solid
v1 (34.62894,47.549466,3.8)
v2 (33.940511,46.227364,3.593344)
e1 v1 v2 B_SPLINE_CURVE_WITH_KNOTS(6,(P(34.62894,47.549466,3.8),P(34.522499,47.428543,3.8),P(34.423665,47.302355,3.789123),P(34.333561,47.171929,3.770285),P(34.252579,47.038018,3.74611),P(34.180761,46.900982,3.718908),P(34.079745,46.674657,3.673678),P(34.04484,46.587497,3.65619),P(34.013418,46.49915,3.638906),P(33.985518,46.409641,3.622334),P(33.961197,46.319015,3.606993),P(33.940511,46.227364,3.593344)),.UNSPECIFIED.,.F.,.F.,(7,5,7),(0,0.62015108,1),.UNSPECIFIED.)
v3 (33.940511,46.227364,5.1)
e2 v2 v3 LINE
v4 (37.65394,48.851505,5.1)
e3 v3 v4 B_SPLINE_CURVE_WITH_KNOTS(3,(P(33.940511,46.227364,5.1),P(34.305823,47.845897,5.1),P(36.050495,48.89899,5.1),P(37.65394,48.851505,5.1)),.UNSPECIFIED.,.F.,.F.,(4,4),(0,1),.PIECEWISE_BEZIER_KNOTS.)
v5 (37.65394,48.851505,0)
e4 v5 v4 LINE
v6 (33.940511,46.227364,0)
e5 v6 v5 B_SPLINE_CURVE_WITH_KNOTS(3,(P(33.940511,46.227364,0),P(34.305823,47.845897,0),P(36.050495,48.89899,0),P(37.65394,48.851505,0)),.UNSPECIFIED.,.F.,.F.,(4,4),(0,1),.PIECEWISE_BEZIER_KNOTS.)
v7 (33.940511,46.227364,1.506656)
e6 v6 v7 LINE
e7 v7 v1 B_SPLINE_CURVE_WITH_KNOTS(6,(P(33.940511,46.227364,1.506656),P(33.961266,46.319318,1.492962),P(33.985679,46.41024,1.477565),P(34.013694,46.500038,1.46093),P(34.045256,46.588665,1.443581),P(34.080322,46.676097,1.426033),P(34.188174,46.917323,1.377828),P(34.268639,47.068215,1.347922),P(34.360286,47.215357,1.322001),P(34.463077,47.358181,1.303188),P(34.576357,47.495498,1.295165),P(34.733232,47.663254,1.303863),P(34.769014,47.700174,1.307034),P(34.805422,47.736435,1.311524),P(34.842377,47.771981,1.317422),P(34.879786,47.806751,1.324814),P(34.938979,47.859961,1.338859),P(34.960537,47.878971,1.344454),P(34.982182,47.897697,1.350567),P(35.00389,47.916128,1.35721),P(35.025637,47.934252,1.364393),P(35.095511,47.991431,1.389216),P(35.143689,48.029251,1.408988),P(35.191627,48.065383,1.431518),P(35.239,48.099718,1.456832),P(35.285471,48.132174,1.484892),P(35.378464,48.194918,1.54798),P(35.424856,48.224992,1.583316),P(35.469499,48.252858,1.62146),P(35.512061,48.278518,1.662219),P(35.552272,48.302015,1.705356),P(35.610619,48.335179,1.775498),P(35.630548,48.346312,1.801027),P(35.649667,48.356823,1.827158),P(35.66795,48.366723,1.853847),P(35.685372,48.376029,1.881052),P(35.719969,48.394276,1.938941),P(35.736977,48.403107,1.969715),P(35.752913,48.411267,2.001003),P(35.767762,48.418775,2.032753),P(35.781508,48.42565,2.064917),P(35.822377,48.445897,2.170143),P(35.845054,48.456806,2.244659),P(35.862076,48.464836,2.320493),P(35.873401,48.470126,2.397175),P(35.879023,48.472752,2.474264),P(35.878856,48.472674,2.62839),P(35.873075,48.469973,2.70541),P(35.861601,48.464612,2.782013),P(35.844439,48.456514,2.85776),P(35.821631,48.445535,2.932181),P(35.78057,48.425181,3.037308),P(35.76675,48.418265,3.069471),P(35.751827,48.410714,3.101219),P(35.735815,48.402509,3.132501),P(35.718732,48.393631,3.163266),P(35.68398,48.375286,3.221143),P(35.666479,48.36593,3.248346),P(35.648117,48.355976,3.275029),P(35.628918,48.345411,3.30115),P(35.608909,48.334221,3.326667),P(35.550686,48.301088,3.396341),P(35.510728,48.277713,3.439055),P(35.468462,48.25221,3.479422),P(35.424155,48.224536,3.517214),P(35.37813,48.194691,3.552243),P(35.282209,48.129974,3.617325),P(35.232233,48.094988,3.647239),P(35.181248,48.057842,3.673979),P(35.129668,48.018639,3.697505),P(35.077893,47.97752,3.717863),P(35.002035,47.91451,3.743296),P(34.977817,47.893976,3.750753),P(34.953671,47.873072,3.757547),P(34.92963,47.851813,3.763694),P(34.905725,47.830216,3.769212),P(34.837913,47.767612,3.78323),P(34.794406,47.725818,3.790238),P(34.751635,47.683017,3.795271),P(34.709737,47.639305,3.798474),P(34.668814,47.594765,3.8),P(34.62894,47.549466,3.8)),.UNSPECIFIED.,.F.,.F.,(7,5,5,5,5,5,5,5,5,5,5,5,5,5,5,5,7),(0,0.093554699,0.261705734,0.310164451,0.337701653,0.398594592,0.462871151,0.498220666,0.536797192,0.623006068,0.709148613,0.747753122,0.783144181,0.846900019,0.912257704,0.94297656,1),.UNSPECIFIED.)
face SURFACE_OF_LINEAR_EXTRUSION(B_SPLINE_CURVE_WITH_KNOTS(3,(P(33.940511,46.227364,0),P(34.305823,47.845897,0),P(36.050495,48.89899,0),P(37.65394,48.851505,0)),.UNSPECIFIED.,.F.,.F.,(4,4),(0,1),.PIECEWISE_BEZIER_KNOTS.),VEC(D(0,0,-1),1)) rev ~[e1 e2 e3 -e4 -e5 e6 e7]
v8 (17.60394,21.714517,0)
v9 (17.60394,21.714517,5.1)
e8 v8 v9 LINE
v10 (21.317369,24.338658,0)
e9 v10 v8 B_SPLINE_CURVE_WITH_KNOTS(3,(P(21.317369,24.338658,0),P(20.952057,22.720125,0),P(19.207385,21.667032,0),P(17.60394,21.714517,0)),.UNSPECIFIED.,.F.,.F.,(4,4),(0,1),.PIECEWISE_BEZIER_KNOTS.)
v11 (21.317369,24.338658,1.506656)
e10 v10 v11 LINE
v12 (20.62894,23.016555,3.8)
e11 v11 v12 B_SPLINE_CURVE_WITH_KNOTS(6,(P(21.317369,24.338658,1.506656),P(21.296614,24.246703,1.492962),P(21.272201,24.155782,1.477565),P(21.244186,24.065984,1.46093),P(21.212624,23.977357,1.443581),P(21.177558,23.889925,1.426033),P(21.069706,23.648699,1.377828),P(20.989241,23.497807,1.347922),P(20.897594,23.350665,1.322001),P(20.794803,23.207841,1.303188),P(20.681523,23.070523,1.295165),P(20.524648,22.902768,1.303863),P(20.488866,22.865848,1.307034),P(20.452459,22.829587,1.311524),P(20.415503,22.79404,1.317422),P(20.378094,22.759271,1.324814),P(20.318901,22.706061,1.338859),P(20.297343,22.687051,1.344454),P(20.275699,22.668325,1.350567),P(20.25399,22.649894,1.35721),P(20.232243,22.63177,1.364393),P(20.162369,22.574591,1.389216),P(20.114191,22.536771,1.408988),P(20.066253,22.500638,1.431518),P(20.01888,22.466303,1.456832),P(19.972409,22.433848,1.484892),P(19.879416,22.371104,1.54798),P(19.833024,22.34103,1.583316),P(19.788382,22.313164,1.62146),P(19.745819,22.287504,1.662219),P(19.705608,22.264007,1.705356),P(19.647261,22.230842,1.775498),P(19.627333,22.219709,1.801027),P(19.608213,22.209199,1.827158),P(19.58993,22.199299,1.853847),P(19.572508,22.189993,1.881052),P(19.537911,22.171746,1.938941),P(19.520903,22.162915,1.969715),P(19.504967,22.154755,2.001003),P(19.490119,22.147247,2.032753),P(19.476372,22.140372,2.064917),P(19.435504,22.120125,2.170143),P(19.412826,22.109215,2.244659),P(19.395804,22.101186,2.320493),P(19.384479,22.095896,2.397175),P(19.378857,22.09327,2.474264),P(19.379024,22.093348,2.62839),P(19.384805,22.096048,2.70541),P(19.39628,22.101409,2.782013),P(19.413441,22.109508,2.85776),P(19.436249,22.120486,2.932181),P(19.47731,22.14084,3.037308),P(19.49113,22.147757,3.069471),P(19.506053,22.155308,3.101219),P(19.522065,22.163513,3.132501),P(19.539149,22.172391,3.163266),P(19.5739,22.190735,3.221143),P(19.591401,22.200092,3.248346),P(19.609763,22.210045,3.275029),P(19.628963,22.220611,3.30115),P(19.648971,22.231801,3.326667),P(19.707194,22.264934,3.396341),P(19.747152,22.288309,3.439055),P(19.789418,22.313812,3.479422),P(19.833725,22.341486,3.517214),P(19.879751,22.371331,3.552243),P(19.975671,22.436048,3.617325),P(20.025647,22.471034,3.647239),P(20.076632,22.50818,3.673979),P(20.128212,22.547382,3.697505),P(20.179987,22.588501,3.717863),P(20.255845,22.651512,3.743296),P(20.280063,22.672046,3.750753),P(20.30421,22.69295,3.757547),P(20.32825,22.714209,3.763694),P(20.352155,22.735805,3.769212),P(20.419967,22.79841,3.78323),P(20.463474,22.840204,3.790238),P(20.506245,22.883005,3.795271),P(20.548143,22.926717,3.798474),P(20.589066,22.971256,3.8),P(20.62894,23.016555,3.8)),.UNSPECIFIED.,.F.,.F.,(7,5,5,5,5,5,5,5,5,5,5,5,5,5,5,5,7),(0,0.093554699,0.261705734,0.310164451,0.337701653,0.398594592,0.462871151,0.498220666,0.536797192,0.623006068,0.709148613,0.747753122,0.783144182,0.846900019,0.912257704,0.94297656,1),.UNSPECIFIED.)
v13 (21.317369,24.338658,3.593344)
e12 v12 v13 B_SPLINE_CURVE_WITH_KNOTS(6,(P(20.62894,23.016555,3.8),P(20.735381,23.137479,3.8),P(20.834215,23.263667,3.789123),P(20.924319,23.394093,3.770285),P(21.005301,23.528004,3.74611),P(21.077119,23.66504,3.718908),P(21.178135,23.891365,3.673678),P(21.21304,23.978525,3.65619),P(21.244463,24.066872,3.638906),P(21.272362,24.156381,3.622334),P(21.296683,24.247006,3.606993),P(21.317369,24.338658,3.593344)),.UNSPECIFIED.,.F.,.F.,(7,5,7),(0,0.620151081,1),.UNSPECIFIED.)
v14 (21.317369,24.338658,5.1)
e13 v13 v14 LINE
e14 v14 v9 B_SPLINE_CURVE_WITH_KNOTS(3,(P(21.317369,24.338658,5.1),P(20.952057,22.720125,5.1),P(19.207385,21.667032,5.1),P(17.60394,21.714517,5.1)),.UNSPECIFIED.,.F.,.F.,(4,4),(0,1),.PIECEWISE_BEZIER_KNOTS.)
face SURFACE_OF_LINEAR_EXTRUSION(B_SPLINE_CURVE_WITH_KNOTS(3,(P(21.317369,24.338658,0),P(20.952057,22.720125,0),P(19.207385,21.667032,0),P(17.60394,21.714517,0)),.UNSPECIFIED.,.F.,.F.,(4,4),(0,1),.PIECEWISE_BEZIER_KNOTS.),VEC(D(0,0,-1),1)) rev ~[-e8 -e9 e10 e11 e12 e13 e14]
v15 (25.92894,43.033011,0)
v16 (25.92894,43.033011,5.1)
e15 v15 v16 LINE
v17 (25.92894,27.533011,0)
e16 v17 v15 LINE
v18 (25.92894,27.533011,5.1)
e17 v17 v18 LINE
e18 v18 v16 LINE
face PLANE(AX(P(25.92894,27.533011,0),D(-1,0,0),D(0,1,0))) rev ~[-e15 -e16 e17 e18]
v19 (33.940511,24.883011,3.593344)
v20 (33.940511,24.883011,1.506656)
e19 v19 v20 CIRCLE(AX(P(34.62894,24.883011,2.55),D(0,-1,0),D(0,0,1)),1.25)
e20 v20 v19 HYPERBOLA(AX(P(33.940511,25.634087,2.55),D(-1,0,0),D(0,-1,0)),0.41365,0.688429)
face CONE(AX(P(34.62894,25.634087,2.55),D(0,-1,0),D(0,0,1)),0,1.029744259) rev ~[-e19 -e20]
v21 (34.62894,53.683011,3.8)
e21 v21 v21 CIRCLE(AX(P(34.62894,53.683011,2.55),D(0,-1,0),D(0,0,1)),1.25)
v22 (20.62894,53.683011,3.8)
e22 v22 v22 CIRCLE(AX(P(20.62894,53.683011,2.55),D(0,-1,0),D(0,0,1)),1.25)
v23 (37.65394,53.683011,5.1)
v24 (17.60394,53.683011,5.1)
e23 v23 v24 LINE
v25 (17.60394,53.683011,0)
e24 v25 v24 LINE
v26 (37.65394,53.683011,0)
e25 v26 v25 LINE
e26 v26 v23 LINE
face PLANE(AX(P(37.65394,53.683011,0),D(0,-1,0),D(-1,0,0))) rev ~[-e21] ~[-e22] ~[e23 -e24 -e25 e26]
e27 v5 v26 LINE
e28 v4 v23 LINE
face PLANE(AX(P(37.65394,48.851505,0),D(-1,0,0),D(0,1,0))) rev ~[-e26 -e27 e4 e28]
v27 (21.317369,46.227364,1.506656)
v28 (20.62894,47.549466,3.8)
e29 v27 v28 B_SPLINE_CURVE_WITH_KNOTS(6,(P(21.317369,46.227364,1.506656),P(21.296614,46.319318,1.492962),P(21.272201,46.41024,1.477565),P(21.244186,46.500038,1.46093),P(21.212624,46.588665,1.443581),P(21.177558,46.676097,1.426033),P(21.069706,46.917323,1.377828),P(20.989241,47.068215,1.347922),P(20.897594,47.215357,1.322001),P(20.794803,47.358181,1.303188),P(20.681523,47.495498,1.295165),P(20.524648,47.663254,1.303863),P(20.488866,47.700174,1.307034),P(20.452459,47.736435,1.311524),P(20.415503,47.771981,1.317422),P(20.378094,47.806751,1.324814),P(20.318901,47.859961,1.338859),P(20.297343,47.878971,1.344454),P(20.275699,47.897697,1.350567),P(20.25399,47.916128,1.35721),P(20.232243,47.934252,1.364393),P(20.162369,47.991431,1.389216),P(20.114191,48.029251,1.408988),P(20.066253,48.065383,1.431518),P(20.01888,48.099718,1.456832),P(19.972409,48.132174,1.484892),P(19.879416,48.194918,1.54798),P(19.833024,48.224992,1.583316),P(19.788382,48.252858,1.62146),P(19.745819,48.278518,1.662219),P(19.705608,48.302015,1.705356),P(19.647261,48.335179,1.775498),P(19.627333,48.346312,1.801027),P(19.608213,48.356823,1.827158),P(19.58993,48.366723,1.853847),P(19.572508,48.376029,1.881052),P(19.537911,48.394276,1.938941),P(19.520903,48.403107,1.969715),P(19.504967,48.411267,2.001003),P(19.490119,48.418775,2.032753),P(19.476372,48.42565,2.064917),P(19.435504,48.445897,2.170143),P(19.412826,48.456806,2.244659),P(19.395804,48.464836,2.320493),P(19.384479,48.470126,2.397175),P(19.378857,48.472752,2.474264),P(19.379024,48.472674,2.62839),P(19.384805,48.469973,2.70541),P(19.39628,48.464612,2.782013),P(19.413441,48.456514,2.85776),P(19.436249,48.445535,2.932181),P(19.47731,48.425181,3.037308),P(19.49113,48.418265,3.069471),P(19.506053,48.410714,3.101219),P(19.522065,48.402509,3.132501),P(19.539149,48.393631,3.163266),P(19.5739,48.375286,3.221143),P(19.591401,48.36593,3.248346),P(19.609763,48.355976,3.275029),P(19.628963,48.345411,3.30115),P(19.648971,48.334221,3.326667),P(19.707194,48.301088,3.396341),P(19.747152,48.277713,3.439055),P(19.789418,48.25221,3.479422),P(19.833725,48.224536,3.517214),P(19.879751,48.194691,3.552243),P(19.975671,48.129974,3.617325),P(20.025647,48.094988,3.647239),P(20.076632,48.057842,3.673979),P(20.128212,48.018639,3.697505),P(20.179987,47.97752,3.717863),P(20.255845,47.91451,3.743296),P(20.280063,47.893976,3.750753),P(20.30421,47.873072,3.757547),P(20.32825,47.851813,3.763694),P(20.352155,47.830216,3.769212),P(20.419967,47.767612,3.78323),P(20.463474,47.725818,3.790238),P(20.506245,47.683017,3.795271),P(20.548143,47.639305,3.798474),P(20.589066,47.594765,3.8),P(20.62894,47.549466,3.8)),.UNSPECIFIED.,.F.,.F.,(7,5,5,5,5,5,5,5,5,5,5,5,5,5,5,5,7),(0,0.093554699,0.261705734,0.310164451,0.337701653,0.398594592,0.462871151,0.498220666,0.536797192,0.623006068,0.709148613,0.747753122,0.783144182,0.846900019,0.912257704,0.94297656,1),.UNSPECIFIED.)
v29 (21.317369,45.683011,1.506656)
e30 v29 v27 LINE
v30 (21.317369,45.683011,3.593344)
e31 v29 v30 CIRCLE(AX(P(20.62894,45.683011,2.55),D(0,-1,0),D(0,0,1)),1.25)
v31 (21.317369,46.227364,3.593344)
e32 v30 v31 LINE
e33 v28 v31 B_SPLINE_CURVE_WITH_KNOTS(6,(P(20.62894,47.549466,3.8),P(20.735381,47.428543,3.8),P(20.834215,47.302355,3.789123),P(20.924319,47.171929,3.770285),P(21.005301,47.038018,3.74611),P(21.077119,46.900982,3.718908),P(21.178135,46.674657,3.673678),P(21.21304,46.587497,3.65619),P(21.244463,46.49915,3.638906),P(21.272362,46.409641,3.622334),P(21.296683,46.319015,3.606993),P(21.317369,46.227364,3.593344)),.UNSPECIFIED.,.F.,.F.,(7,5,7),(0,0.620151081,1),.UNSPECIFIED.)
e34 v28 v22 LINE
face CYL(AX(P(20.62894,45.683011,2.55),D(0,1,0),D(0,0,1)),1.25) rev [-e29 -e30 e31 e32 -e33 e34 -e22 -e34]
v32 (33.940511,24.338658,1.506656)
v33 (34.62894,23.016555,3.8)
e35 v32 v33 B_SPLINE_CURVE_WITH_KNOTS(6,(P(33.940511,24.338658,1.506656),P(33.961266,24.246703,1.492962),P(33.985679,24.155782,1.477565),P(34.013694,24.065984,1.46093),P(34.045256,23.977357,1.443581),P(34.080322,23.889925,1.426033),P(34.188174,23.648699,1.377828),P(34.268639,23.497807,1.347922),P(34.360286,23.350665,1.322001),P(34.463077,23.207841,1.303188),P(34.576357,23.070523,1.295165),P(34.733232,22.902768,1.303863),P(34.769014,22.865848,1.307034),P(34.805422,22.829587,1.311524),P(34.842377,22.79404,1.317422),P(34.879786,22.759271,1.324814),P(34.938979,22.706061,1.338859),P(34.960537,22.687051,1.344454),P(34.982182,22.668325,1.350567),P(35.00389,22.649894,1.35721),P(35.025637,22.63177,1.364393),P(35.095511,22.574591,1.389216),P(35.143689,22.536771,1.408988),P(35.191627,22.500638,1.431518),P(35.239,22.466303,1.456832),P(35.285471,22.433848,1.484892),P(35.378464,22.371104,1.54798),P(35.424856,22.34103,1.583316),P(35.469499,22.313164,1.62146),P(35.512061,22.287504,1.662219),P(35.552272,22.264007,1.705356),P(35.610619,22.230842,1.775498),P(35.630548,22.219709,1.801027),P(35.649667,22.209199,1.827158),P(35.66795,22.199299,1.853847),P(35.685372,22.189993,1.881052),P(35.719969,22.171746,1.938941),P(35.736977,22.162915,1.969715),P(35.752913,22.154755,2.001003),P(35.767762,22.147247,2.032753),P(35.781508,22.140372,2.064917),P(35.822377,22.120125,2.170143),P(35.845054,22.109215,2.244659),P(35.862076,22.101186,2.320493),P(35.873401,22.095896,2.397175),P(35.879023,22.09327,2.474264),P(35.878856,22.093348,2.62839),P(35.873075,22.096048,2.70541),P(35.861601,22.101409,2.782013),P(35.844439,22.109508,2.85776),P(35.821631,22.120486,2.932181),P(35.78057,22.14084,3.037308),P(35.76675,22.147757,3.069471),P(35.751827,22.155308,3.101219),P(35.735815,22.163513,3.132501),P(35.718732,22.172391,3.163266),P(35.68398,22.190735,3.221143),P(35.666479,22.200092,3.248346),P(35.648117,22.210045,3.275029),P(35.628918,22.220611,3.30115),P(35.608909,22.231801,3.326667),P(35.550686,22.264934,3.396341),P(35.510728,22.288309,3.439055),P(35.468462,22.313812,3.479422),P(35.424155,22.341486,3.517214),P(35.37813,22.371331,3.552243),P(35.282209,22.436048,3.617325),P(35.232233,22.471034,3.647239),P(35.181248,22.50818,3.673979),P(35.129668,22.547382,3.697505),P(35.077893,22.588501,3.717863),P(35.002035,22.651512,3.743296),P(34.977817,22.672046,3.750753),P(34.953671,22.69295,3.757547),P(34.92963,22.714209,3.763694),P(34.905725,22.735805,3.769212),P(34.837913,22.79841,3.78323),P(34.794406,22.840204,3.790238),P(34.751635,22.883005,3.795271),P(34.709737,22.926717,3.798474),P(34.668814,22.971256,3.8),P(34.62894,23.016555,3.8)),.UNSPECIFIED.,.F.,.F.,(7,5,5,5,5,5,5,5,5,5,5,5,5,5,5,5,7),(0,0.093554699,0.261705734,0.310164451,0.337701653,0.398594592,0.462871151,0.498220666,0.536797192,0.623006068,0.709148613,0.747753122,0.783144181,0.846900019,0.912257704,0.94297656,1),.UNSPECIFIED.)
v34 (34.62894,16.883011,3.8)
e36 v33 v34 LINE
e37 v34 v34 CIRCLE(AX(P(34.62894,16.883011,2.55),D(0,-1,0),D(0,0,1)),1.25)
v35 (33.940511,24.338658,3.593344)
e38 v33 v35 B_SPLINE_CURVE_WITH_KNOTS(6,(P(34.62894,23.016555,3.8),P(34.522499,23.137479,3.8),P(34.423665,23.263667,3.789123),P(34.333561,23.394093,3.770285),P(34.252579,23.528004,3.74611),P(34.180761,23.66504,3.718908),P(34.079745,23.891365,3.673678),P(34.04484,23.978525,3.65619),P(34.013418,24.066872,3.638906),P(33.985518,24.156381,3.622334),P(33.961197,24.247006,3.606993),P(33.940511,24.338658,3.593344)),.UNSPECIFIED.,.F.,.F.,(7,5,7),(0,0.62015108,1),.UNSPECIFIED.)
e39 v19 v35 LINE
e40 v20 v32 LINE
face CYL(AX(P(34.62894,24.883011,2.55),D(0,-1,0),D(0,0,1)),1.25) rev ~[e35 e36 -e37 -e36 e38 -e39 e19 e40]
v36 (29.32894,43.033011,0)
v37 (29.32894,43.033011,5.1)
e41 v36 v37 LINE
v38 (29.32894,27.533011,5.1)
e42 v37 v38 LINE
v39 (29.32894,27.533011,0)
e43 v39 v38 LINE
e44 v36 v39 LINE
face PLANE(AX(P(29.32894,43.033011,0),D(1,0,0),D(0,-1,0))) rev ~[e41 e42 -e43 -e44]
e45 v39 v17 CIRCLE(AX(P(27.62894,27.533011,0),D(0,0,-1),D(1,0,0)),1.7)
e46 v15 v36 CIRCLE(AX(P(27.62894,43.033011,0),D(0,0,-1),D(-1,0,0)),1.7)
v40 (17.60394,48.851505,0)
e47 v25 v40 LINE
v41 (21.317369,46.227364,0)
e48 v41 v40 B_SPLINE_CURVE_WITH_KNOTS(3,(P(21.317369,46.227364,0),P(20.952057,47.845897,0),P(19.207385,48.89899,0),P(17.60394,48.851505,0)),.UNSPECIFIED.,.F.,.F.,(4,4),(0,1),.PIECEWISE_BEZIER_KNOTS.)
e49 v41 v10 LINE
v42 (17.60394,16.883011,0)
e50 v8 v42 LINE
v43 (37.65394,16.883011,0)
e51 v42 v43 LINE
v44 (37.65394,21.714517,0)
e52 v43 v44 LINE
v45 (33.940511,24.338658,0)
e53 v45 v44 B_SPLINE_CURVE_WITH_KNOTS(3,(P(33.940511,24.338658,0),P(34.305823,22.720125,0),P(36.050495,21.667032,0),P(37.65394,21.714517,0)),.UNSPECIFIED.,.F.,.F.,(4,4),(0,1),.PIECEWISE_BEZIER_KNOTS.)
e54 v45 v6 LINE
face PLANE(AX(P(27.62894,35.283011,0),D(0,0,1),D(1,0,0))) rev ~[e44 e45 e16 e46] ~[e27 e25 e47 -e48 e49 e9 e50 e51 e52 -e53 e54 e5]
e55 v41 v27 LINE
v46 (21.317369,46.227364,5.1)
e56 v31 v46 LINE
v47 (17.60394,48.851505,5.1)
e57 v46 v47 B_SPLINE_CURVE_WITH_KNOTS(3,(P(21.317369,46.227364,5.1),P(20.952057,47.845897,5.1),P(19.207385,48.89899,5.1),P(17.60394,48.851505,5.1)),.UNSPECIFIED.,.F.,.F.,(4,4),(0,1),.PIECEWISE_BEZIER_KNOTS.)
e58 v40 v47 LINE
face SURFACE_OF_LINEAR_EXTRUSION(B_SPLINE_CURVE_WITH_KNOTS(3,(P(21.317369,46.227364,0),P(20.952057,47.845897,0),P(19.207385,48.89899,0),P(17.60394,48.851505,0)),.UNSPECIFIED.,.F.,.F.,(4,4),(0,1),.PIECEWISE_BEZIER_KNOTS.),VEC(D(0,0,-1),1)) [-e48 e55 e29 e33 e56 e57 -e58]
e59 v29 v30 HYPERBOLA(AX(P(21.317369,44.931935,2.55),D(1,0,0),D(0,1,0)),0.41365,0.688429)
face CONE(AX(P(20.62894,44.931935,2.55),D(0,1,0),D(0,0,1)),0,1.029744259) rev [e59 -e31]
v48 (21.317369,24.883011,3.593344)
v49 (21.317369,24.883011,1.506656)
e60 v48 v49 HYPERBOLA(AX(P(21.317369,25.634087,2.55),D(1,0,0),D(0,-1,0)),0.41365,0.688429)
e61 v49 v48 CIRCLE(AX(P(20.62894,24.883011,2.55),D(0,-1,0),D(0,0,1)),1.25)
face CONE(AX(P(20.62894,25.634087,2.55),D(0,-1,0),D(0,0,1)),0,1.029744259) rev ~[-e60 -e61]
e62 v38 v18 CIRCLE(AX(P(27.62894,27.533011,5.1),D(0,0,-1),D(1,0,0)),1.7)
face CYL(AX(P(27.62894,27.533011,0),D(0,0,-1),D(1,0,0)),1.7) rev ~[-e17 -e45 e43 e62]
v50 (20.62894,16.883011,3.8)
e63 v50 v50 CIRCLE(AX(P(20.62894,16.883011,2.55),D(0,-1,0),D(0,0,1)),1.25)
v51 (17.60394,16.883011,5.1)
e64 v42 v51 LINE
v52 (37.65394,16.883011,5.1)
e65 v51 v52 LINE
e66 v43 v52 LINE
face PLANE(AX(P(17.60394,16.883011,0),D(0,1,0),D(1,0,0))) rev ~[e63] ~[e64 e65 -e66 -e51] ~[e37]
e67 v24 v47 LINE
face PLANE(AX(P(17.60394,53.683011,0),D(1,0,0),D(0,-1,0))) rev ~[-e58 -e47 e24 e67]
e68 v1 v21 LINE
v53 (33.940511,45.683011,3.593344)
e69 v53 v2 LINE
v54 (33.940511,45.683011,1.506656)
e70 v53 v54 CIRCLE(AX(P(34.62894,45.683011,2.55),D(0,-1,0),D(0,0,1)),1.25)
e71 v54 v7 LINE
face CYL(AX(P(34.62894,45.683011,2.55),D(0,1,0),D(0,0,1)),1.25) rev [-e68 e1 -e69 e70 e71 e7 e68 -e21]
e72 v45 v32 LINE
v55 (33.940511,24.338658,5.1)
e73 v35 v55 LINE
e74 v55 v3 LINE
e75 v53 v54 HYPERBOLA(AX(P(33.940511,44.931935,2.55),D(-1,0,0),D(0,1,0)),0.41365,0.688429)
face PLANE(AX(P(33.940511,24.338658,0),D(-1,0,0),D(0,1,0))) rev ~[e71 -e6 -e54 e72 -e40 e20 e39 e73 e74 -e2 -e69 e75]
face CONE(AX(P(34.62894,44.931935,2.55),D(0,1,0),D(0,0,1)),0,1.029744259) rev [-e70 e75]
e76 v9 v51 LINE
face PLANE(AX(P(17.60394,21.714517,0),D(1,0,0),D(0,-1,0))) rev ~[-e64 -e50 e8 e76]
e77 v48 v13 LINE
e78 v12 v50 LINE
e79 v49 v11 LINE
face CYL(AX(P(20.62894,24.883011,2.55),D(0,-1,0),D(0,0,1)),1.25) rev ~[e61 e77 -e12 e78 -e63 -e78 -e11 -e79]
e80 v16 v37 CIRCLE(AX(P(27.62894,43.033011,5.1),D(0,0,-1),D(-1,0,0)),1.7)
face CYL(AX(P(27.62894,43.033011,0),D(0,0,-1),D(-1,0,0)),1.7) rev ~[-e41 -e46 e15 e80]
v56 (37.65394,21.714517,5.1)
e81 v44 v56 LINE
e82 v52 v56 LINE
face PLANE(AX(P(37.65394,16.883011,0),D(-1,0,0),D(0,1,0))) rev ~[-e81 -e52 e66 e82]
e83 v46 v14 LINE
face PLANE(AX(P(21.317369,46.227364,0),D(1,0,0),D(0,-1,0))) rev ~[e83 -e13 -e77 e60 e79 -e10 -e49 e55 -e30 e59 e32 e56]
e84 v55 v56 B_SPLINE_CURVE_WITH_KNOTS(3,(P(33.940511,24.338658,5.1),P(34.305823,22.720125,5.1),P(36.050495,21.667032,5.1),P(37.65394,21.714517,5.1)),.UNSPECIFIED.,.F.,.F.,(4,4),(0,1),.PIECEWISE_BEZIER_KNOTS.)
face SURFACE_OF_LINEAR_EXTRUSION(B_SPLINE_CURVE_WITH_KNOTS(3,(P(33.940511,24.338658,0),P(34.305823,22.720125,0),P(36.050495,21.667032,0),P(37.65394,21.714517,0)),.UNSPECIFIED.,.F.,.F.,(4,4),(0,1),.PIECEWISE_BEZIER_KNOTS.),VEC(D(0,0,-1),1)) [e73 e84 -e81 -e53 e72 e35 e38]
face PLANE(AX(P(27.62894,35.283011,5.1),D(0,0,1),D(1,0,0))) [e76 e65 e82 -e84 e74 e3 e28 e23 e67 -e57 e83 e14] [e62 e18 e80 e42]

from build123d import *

# Parameters (mm, degrees)
ESTRUSIONE_ESTRUSIONE1_DEPTH       = 5.1
FORO_FILETTATO_M3X0_5_1_AT_2_COUNT = 2
FORO_FILETTATO_M3X0_5_1_AT_2_PITCH = 14


with BuildPart() as part:
    # Schizzo1 → Estrusione-Estrusione1 (new body)
    with BuildSketch(Plane.XY):
        with BuildLine():
            Line((37.65394009, 53.683010839), (17.60394009, 53.683010839))
            Line((17.60394009, 53.683010839), (17.60394009, 48.851504979))
            add(Edge.make_bspline(
                [(21.317368868, 46.227364164), (20.952056874, 47.845897177), (19.207385128, 48.898989615), (17.60394009, 48.851504979)],
                knots=[0, 0, 0, 0, 1, 1, 1, 1], degree=3))
            Line((21.317368868, 46.227364164), (21.317368868, 24.338657514))
            add(Edge.make_bspline(
                [(21.317368868, 24.338657514), (20.952056874, 22.720124501), (19.207385128, 21.667032063), (17.60394009, 21.714516699)],
                knots=[0, 0, 0, 0, 1, 1, 1, 1], degree=3))
            Line((17.60394009, 21.714516699), (17.60394009, 16.883010839))
            Line((17.60394009, 16.883010839), (37.65394009, 16.883010839))
            Line((37.65394009, 16.883010839), (37.65394009, 21.714516699))
            add(Edge.make_bspline(
                [(33.940511311, 24.338657514), (34.305823306, 22.720124501), (36.050495052, 21.667032063), (37.65394009, 21.714516699)],
                knots=[0, 0, 0, 0, 1, 1, 1, 1], degree=3))
            Line((33.940511311, 24.338657514), (33.940511311, 46.227364164))
            add(Edge.make_bspline(
                [(33.940511311, 46.227364164), (34.305823306, 47.845897177), (36.050495052, 48.898989615), (37.65394009, 48.851504979)],
                knots=[0, 0, 0, 0, 1, 1, 1, 1], degree=3))
            Line((37.65394009, 48.851504979), (37.65394009, 53.683010839))
        make_face()
        with BuildLine():
            ThreePointArc((25.92894009, 43.033010839), (27.62894009, 44.733010839), (29.32894009, 43.033010839))
            Line((29.32894009, 43.033010839), (29.32894009, 27.533010839))
            ThreePointArc((29.32894009, 27.533010839), (27.62894009, 25.833010839), (25.92894009, 27.533010839))
            Line((25.92894009, 27.533010839), (25.92894009, 43.033010839))
        make_face(mode=Mode.SUBTRACT)
    extrude(amount=ESTRUSIONE_ESTRUSIONE1_DEPTH)

    # Schizzo2 → Foro filettato M3x0.5-1 (revolve, cut)
    with BuildSketch(Plane(origin=(20.62894009, 53.683010839, 2.55), x_dir=(0, 0, 1), z_dir=(1, 0, 0))):
        Polygon((0, 0), (0, 8.751075774), (1.25, 8), (1.25, 0), align=None)
    foro_filettato_m3x0_5_1 = revolve(axis=Axis((20.62894009, 60.033010839, 2.55), (0, -1, 0)), mode=Mode.SUBTRACT)

    # Foro filettato M3x0.5-1 at 2: Foro filettato M3x0.5-1 ×2
    with Locations(*[(i * FORO_FILETTATO_M3X0_5_1_AT_2_PITCH, 0, 0) for i in range(1, FORO_FILETTATO_M3X0_5_1_AT_2_COUNT)]):
        add(foro_filettato_m3x0_5_1, mode=Mode.SUBTRACT)

    # Specchia1: Foro filettato M3x0.5-1 across plane
    add(foro_filettato_m3x0_5_1.mirror(Plane.ZX.offset(35.283010839)), mode=Mode.SUBTRACT)

    # Specchia1 copy 1 sketch → Specchia1 copy 1 (revolve, cut)
    with BuildSketch(Plane(origin=(34.62894009, 16.883010839, 2.55), x_dir=(0, 0, 1), z_dir=(1, 0, 0))):
        Polygon((0, 0), (0, -8.751075774), (1.25, -8), (1.25, 0), align=None)
    revolve(axis=Axis((34.62894009, 10.533010839, 2.55), (0, -1, 0)), mode=Mode.SUBTRACT)


solid = part.part
